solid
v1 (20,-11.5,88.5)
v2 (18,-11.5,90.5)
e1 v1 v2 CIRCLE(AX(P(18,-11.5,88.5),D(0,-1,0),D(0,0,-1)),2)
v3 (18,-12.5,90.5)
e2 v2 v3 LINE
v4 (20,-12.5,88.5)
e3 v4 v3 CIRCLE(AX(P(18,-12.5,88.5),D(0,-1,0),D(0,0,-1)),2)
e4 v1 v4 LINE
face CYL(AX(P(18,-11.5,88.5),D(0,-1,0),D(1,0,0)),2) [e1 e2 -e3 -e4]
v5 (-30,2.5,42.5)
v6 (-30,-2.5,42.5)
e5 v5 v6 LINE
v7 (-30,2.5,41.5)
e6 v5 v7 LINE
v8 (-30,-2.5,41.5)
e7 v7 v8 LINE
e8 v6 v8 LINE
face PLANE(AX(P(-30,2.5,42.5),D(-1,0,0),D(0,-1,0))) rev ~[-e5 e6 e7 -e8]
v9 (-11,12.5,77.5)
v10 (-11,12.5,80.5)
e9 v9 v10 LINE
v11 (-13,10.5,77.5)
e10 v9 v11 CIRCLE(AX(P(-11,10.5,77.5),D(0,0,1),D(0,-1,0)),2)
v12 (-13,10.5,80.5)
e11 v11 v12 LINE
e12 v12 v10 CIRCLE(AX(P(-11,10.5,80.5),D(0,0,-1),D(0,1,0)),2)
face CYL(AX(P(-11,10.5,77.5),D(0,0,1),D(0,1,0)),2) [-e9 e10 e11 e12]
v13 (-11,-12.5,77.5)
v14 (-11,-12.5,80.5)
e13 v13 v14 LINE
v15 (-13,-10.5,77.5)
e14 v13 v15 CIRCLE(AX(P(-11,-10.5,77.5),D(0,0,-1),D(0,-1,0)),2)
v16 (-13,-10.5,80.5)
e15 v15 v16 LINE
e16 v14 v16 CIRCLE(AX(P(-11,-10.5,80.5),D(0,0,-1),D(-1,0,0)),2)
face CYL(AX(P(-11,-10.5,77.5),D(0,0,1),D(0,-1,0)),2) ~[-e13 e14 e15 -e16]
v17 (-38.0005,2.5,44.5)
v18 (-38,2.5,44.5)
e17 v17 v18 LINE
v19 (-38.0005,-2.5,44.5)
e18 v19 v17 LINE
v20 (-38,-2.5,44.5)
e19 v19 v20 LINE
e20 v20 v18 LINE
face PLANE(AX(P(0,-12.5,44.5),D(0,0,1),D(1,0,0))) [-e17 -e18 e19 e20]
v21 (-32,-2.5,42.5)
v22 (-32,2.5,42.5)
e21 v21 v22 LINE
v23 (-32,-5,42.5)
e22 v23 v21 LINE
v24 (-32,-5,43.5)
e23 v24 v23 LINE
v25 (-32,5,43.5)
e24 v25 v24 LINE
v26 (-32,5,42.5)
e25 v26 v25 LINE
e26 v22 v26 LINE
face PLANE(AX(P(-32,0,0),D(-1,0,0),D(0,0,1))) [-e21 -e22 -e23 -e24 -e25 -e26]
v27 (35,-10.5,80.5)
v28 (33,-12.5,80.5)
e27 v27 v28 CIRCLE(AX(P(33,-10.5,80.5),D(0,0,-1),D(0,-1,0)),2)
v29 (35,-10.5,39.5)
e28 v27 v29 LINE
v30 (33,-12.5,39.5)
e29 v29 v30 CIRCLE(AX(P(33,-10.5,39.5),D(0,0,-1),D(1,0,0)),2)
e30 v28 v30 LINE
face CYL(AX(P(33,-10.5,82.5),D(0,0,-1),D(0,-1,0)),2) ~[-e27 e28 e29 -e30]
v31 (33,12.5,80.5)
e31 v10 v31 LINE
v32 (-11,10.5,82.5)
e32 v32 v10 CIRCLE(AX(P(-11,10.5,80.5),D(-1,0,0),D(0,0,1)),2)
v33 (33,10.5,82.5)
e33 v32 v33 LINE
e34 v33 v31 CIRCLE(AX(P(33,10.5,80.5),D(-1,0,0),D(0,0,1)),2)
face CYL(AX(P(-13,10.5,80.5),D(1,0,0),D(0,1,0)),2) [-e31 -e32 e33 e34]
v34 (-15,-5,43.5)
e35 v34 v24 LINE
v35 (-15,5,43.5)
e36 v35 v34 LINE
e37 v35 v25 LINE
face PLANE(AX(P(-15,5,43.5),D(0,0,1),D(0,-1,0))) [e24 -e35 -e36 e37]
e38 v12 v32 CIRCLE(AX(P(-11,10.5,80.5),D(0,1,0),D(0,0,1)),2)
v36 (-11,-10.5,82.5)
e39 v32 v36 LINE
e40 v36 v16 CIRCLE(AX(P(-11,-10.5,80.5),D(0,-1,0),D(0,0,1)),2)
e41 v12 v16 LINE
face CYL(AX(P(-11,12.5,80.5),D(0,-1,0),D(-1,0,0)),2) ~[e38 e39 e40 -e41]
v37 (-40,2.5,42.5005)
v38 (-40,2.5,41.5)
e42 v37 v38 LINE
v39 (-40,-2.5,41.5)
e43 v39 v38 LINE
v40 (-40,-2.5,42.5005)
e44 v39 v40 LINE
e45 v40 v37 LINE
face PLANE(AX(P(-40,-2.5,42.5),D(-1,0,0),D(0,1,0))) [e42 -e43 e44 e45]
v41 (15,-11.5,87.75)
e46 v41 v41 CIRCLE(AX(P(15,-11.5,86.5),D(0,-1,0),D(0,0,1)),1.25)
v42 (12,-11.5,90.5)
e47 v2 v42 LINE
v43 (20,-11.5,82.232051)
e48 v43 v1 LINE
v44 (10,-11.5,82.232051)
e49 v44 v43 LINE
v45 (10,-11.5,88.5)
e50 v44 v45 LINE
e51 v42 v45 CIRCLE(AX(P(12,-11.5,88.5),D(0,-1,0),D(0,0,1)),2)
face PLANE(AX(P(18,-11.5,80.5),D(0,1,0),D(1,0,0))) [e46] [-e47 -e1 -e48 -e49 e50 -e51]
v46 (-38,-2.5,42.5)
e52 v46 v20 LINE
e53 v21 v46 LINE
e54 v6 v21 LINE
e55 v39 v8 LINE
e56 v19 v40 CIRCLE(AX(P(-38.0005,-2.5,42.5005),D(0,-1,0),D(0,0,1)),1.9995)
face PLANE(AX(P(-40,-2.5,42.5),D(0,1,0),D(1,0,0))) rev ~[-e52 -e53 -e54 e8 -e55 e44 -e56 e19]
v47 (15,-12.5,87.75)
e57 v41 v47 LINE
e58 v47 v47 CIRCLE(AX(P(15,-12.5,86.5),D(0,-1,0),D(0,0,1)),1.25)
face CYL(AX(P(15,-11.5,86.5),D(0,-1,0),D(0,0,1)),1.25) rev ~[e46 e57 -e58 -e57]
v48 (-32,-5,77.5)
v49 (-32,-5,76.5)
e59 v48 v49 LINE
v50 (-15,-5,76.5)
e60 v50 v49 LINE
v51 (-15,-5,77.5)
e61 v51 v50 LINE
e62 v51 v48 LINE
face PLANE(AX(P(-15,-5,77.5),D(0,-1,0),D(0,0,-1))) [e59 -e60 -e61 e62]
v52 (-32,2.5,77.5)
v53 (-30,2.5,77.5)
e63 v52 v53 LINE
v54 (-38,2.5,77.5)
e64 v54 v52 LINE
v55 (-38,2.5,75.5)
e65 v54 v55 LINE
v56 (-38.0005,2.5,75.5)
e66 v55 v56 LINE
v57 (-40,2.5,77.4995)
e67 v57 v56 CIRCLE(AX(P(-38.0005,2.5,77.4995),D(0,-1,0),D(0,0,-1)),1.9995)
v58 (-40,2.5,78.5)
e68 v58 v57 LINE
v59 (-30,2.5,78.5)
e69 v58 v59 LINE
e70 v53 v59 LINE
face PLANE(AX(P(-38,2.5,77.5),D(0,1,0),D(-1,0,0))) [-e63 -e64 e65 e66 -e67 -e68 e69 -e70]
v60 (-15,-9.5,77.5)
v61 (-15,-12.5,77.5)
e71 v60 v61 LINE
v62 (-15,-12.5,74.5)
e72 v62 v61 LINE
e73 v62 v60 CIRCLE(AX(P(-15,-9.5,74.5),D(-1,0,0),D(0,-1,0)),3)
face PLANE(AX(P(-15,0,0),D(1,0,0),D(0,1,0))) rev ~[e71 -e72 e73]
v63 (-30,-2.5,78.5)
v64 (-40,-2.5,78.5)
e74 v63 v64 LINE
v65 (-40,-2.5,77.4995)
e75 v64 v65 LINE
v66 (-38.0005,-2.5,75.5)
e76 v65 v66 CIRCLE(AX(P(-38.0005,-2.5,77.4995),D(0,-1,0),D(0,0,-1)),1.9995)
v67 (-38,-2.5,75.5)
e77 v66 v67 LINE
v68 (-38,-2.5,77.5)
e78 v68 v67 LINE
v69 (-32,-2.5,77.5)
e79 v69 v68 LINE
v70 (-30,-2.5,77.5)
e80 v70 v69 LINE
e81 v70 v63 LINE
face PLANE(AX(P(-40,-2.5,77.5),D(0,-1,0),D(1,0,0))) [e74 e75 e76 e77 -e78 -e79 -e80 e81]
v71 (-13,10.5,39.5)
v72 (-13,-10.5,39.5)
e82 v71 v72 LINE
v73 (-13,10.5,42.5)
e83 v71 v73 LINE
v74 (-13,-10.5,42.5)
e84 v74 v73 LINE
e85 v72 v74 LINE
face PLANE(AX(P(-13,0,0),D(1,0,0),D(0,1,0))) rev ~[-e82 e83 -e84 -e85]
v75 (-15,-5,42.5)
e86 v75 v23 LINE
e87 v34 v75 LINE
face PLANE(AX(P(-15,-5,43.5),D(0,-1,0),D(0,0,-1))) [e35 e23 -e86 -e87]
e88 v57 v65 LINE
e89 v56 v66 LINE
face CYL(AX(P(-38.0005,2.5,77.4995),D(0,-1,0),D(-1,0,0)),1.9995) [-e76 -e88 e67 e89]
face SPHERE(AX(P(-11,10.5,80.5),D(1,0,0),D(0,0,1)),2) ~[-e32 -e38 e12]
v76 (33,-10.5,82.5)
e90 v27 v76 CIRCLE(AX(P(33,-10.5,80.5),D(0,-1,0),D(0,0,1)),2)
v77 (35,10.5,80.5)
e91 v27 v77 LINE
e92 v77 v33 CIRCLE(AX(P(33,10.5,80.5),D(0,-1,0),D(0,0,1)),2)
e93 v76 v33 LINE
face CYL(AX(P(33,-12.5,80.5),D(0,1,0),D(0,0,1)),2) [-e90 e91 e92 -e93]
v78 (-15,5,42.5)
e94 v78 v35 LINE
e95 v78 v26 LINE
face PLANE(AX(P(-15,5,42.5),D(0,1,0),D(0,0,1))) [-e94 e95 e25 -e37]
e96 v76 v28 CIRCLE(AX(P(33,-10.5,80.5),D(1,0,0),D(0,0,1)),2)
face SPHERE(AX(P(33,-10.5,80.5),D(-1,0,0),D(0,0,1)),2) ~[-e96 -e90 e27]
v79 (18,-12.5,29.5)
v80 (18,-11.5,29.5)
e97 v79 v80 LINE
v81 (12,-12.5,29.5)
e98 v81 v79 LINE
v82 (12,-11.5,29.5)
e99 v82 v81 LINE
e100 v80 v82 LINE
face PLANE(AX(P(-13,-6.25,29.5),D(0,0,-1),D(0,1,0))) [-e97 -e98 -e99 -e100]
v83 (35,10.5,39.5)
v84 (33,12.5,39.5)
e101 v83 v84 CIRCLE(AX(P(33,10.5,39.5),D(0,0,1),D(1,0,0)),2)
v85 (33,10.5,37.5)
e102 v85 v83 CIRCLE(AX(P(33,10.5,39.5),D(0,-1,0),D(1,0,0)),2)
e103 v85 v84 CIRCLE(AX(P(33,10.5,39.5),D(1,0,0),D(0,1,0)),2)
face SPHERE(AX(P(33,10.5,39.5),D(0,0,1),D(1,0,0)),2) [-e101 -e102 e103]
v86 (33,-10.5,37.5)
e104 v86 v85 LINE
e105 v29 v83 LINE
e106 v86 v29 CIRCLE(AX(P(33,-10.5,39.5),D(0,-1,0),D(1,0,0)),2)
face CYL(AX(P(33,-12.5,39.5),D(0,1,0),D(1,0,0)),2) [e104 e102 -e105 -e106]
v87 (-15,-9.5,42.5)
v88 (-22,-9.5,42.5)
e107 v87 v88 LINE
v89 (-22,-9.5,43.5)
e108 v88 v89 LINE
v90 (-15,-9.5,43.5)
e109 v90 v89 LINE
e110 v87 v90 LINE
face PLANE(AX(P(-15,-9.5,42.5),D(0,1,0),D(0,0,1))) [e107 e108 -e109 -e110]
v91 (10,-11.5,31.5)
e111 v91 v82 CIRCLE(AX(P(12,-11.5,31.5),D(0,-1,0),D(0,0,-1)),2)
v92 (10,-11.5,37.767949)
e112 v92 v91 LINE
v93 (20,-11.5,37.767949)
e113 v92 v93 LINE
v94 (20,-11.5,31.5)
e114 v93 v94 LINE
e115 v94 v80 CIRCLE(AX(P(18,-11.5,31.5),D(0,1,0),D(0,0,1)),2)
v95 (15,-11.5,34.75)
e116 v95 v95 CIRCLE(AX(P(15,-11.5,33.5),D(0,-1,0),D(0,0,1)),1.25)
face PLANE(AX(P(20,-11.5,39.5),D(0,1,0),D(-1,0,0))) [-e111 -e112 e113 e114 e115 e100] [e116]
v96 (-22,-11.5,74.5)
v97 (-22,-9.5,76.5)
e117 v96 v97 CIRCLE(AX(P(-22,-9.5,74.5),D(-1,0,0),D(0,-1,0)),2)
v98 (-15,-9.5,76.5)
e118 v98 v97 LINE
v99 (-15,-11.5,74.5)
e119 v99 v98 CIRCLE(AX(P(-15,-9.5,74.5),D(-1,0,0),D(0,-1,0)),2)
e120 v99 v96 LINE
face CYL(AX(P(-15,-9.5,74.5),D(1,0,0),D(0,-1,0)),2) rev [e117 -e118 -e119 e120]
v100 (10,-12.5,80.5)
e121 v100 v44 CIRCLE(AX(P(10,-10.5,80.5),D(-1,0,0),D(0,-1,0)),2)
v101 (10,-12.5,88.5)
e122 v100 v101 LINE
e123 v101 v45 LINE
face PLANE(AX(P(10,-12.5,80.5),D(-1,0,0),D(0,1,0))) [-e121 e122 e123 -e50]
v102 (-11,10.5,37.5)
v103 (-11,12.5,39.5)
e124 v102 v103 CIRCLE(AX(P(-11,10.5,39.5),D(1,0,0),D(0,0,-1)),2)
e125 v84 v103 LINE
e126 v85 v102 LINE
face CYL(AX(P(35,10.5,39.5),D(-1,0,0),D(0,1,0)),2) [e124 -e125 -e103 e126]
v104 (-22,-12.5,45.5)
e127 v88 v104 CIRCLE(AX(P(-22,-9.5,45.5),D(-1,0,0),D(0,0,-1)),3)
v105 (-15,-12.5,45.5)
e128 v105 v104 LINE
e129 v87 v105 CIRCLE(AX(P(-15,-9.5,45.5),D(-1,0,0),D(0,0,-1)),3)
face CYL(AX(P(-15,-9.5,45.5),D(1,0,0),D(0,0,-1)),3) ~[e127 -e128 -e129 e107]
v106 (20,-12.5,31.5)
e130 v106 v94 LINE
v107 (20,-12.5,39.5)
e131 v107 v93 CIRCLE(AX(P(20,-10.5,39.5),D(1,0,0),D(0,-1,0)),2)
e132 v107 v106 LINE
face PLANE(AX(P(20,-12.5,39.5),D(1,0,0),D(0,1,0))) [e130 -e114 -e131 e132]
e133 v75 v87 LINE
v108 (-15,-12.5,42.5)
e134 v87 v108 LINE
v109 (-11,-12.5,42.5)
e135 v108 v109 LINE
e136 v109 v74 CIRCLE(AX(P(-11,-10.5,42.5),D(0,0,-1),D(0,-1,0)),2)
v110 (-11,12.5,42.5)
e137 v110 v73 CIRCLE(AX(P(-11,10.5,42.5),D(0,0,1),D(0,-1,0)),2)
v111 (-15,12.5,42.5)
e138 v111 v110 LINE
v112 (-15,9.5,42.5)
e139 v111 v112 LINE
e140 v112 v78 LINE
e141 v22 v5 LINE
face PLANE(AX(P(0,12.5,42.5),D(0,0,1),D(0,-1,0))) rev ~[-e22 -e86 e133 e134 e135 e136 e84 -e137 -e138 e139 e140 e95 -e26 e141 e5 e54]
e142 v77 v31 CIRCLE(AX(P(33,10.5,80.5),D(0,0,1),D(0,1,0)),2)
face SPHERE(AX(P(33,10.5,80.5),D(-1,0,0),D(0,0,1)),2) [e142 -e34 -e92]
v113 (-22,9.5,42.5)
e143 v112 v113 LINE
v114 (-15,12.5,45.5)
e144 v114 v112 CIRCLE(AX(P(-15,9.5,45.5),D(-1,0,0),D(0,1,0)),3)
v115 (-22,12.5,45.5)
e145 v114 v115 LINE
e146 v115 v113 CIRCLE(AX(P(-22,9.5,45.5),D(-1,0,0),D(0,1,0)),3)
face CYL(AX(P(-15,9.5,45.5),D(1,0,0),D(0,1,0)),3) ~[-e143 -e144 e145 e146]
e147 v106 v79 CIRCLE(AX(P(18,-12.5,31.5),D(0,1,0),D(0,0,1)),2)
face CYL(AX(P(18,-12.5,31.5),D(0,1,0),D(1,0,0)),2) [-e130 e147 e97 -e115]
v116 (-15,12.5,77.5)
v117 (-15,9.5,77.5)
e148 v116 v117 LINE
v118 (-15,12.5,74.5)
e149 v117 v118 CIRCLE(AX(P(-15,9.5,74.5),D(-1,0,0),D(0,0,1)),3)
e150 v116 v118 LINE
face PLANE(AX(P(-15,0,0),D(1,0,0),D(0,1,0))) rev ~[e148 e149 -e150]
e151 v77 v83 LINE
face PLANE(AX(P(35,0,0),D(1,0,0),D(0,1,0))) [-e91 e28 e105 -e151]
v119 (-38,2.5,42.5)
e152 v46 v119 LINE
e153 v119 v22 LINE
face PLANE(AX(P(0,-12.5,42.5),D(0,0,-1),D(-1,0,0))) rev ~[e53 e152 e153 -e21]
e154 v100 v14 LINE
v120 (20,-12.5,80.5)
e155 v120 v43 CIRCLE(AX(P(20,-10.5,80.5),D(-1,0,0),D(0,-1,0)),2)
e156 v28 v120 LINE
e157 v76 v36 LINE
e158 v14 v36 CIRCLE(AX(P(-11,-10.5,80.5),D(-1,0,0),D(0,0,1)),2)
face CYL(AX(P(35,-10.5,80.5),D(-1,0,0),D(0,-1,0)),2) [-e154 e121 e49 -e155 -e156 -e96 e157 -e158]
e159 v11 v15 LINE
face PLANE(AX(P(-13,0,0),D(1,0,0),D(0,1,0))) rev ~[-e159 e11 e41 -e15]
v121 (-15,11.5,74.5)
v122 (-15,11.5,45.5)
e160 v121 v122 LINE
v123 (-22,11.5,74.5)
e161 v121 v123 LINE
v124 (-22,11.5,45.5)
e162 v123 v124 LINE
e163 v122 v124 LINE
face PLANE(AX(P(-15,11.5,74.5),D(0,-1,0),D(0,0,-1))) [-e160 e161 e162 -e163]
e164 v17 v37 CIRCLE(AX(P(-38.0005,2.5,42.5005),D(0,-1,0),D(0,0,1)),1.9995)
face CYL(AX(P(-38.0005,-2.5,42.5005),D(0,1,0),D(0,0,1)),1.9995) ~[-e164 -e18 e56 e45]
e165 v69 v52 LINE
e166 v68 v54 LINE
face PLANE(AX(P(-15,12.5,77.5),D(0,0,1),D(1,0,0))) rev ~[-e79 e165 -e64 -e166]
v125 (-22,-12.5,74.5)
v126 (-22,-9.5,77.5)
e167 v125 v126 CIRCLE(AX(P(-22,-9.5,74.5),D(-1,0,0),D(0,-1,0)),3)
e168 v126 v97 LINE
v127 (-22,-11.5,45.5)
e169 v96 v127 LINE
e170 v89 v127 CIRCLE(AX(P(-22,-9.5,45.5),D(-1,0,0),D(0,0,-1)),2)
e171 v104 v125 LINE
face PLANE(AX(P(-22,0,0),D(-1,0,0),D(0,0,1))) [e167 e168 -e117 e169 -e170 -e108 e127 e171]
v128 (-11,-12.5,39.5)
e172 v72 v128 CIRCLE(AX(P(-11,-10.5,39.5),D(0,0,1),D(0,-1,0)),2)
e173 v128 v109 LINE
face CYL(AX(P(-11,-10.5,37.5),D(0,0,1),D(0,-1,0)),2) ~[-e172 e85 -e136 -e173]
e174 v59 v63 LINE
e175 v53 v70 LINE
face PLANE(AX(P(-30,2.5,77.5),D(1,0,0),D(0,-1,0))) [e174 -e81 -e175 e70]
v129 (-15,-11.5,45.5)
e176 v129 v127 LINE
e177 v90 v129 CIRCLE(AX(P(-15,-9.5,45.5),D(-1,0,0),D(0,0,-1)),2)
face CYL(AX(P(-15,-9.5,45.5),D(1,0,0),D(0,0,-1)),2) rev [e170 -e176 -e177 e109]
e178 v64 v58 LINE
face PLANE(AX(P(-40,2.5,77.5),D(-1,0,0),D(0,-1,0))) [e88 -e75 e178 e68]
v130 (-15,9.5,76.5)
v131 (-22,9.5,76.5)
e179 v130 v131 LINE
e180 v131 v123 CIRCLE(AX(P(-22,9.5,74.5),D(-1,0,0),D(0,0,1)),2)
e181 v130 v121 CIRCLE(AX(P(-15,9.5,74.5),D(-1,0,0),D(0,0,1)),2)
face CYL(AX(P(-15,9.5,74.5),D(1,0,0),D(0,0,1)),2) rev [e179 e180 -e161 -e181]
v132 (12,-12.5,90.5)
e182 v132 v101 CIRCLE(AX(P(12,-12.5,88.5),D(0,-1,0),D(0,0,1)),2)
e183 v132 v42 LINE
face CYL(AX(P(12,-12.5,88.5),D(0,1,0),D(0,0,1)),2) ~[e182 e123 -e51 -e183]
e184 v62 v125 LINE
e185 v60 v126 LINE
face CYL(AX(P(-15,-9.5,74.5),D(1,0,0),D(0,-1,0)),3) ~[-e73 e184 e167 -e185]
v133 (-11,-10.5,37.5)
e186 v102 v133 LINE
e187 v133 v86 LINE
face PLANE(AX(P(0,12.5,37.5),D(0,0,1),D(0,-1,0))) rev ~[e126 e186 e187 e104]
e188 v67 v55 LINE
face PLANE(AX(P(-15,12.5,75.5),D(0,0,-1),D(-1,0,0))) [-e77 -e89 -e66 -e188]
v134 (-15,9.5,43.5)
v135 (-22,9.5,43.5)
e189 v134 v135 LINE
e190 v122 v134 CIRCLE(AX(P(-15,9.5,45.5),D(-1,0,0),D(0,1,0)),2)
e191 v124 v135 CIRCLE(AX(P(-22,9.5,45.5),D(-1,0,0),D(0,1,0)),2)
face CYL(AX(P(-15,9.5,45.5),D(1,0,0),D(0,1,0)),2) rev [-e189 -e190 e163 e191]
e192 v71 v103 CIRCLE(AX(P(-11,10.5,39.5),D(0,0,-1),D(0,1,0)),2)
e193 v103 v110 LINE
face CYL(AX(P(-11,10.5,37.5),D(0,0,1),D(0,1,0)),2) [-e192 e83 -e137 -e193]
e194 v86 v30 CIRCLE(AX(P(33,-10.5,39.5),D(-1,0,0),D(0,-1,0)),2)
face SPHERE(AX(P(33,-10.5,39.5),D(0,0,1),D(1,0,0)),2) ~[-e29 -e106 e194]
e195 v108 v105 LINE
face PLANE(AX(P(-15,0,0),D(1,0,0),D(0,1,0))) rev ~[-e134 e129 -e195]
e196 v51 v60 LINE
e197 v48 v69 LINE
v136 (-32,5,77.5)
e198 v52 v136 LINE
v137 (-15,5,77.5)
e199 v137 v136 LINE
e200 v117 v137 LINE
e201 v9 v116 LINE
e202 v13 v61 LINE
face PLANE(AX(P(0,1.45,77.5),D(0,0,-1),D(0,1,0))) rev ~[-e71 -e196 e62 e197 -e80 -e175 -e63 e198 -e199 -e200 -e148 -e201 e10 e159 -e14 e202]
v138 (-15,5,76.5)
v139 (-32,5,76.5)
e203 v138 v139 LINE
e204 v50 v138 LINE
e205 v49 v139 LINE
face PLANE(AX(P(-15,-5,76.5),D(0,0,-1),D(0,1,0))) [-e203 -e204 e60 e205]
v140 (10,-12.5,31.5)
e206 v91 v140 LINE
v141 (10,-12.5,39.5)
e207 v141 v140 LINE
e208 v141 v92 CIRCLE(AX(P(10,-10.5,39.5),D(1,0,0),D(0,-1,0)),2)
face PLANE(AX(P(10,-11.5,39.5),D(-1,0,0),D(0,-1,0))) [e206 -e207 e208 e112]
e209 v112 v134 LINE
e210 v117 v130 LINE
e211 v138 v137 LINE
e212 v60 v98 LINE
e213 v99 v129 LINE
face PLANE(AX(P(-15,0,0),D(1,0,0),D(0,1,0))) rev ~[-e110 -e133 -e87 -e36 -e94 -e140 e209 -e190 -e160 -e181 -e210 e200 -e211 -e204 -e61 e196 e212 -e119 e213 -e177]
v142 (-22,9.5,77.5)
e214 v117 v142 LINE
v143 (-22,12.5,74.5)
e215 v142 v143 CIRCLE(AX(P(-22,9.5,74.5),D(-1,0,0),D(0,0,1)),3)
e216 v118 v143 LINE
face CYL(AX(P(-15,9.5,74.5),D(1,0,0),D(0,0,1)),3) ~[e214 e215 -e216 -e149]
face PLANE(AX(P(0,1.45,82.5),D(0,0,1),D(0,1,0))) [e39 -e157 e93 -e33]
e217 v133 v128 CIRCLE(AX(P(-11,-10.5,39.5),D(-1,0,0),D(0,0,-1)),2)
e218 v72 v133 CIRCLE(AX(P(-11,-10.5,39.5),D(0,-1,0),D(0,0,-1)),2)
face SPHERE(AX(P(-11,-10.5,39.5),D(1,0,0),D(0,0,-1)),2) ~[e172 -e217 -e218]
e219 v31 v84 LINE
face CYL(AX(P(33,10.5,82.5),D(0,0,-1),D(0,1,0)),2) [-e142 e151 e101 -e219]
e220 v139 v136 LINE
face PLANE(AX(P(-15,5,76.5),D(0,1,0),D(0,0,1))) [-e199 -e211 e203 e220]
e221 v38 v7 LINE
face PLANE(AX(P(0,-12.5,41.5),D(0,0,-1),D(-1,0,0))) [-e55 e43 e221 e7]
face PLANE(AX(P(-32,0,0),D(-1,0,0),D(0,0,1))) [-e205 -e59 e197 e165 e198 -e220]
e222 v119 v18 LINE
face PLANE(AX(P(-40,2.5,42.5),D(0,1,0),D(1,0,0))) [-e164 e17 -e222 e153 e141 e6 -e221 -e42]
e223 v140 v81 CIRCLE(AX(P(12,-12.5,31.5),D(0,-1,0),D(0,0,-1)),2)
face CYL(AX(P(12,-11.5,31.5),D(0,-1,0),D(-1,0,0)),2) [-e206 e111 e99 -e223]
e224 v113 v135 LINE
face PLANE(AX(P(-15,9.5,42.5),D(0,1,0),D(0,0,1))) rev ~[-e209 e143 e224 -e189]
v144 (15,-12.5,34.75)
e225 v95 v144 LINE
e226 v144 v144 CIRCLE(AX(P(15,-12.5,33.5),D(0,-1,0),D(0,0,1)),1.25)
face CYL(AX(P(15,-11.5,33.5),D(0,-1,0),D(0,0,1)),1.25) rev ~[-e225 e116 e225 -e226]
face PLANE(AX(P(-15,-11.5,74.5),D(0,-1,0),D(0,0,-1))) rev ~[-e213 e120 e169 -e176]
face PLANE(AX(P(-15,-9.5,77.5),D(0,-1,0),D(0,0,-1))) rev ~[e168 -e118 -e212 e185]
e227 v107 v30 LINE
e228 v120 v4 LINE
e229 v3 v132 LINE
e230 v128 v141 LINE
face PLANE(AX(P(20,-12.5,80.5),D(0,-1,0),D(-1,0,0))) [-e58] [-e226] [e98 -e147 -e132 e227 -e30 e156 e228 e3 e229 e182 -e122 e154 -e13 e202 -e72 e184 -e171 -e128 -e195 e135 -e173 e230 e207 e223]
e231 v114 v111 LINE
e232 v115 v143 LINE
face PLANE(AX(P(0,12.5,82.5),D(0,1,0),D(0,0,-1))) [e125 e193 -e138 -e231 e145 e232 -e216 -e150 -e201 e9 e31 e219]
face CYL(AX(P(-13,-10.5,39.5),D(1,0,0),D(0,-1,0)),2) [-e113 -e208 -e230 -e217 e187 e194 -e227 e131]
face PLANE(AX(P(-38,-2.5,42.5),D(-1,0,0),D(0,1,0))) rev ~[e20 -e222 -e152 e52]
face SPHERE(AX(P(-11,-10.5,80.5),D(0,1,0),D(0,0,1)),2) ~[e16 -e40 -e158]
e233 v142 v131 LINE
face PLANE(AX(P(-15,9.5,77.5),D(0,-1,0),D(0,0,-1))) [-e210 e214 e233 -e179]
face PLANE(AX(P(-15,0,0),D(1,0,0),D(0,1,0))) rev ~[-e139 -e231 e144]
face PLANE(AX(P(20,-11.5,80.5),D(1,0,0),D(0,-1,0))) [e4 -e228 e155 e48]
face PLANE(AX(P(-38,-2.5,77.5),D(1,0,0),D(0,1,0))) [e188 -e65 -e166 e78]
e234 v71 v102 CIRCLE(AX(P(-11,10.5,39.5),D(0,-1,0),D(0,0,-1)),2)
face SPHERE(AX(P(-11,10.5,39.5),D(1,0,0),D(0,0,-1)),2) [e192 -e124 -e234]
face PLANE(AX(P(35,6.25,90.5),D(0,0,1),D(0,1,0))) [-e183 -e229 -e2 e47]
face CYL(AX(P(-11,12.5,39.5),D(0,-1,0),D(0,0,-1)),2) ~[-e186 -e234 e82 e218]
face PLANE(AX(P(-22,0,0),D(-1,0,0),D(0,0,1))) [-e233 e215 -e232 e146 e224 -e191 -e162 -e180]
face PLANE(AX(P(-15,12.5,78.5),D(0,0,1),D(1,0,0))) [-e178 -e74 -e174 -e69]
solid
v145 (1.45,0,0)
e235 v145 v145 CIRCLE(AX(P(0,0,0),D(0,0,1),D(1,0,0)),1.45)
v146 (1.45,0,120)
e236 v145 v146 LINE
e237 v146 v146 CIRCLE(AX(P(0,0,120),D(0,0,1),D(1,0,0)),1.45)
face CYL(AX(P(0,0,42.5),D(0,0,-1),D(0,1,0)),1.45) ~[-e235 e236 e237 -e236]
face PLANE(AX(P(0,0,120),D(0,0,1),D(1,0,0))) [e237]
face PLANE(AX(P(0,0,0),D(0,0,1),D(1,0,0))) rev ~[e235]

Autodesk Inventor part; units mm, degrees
ref_plane "YZ Plane" through (0, 0, 0) normal (1, 0, 0) x (0, 1, 0)
sketch "Sketch1" plane through (0, 0, 0) normal (0, 0, 1) x (1, 0, 0)
  circle A0 centre (0, 0) radius 1.45
  dimension "d0" = 2.9
extrude "Extrusion1" add sketch "Sketch1" along normal blind 120
sketch "Sketch2" plane through (0, 0, 0) normal (1, 0, 0) x (0, 1, 0)
  line L0 (1.45, 120) -> (-1.45, 120) projected
  line L1 (-1.45, 0) -> (1.45, 0) projected
  line L2 (1.45, 0) -> (1.45, 120) projected
  line L3 (-1.45, 0) -> (-1.45, 120) projected
  line L4 (1.45, 0) -> (-1.45, 120) construction
  line L5 (1.45, 120) -> (-1.45, 0) construction
  line L6 (12.5, 37.5) -> (-12.5, 37.5)
  line L7 (-12.5, 37.5) -> (-12.5, 82.5)
  line L8 (-12.5, 82.5) -> (12.5, 82.5)
  line L9 (12.5, 82.5) -> (12.5, 37.5)
  line L10 (12.5, 37.5) -> (-12.5, 82.5) construction
  line L11 (-12.5, 37.5) -> (12.5, 82.5) construction
  line L12 (12.5, 42.5) -> (-12.5, 42.5)
  line L13 (-12.5, 42.5) -> (-12.5, 77.5)
  line L14 (-12.5, 77.5) -> (12.5, 77.5)
  line L15 (12.5, 77.5) -> (12.5, 42.5)
  line L16 (12.5, 42.5) -> (-12.5, 77.5) construction
  line L17 (-12.5, 42.5) -> (12.5, 77.5) construction
  point P0 (0, 60)
  dimension "d3" = 25
  dimension "d4" = 45
  dimension "d7" = 25
  dimension "d8" = 35
extrude "Extrusion2" add sketch "Sketch2" along normal blind 35 separate body contours L8 L9 L14 L2 | L2 L14 L3 L8 | L3 L14 L7 L8 | L14 L9 L12 L2 | L2 L12 L3 L14 | L3 L12 L7 L14 | L12 L9 L6 L2 | L2 L6 L3 L12 | L3 L6 L7 L12
extrude "Extrusion3" add sketch "Sketch2" against normal blind 15 contours L14 L9 L12 L2 | L2 L12 L3 L14 | L3 L12 L7 L14 bodies 2
sketch "Sketch3" plane through (-15, 0, 0) normal (-1, 0, 0) x (0, 0, 1)
  line L0 (42.5, 12.5) -> (42.5, -12.5) construction
  line L1 (37.5, -12.5) -> (82.5, -12.5) construction
  line L2 (42.5, 12.5) -> (77.5, 12.5) construction
  line L3 (77.5, 12.5) -> (77.5, -12.5) construction
  line L4 (77.5, -12.5) -> (42.5, -12.5) construction
  line L5 (42.5, -12.5) -> (42.5, 12.5) construction
  line L6 (77.5, 12.5) -> (77.5, -12.5) construction
  line L7 (42.5, 12.5) -> (77.5, 12.5) construction
  line L8 (77.5, 12.5) -> (77.5, 9.5) construction
  line L9 (77.5, 9.5) -> (42.5, 9.5) construction
  line L10 (42.5, 9.5) -> (42.5, 12.5) construction
  line L11 (77.5, 12.5) -> (77.5, -12.5) construction
  line L12 (42.5, -12.5) -> (77.5, -12.5) construction
  line L13 (77.5, -12.5) -> (77.5, -9.5) construction
  line L14 (77.5, -9.5) -> (42.5, -9.5) construction
  line L15 (42.5, -9.5) -> (42.5, -12.5) construction
  arc A0 (45.5, 12.5) -> (42.5, 9.5) centre (45.5, 9.5) ccw
  arc A1 (77.5, 9.5) -> (74.5, 12.5) centre (74.5, 9.5) ccw
  line L16 (45.5, 12.5) -> (74.5, 12.5)
  line L17 (37.5, 12.5) -> (82.5, 12.5) projected
  arc A2 (42.5, -9.5) -> (45.5, -12.5) centre (45.5, -9.5) ccw
  arc A3 (74.5, -12.5) -> (77.5, -9.5) centre (74.5, -9.5) ccw
  line L18 (45.5, -12.5) -> (74.5, -12.5)
  line L19 (42.5, 9.5) -> (43.5, 9.5)
  line L20 (77.5, 9.5) -> (76.5, 9.5)
  arc A4 (45.5, 11.5) -> (43.5, 9.5) centre (45.5, 9.5) ccw
  arc A5 (76.5, 9.5) -> (74.5, 11.5) centre (74.5, 9.5) ccw
  line L21 (74.5, 11.5) -> (45.5, 11.5)
  line L22 (42.5, -9.5) -> (43.5, -9.5)
  line L23 (77.5, -9.5) -> (76.5, -9.5)
  arc A6 (43.5, -9.5) -> (45.5, -11.5) centre (45.5, -9.5) ccw
  arc A7 (74.5, -11.5) -> (76.5, -9.5) centre (74.5, -9.5) ccw
  line L24 (74.5, -11.5) -> (45.5, -11.5)
  line L25 (42.5, 5) -> (43.5, 5)
  line L26 (43.5, 5) -> (43.5, -5)
  line L27 (43.5, -5) -> (42.5, -5)
  line L28 (42.5, -5) -> (42.5, 5)
  line L29 (42.5, 5) -> (43.5, -5) construction
  line L30 (43.5, 5) -> (42.5, -5) construction
  line L31 (77.5, -12.5) -> (77.5, 12.5) projected
  line L32 (76.5, 5) -> (77.5, 5)
  line L33 (77.5, 5) -> (77.5, -5)
  line L34 (77.5, -5) -> (76.5, -5)
  line L35 (76.5, -5) -> (76.5, 5)
  line L36 (76.5, 5) -> (77.5, -5) construction
  line L37 (77.5, 5) -> (76.5, -5) construction
  line L38 (42.5, 0) -> (77.5, 0) construction
  line L39 (42.5, 9.5) -> (43.5, 9.5) construction
  line L40 (43.5, 9.5) -> (43.5, -9.5) construction
  line L41 (43.5, -9.5) -> (42.5, -9.5) construction
  line L42 (42.5, -9.5) -> (42.5, 9.5) construction
  point P0 (0, 0)
  point P1 (77.5, 1.45)
  point P2 (77.5, -1.45)
  point P3 (43, 0)
  point P4 (77, 0)
  point P5 (43, 0)
  dimension "d11" = 3
  dimension "d12" = 3
  dimension "d13" = 1
  dimension "d14" = 1
  dimension "d15" = 1
  dimension "d16" = 1
  dimension "d17" = 1
  dimension "d18" = 1
  dimension "d21" = 10
  dimension "d22" = 10
  dimension "d23" = 35
  dimension "d24" = 17.5
  dimension "d25" = 32
extrude "Extrusion4" add sketch "Sketch3" along normal blind 7 contours L16 A1 L20 A5 L21 A4 L19 A0 | A3 L18 A2 L22 A6 L24 A7 L23 bodies 2
extrude "Extrusion5" add sketch "Sketch3" along normal blind 17 contours L31 L34 L35 L32 | L25 L26 L27 L28 bodies 2
sketch "Sketch5" plane through (-15, 12.5, 77.5) normal (0, 0, 1) x (1, 0, 0)
  line L0 (-25, -10) -> (-15, -10) construction
  line L1 (-15, -10) -> (-15, -15) construction
  line L2 (-15, -15) -> (-25, -15) construction
  line L3 (-25, -15) -> (-25, -10) construction
  line L4 (-25, -10) -> (-15, -15) construction
  line L5 (-15, -10) -> (-25, -15) construction
  line L6 (0, -17.5) -> (0, -7.5) construction
  line L7 (-25, -10) -> (-15, -10)
  line L8 (-15, -10) -> (-15, -15)
  line L9 (-15, -15) -> (-25, -15)
  line L10 (-25, -15) -> (-25, -10)
  point P0 (15, -12.5)
  point P1 (-20, -12.5)
  dimension "d28" = 10
  dimension "d29" = 5
  dimension "d32" = 15
extrude "Extrusion6" add sketch "Sketch5" along normal blind 1 bodies 2
sketch "Sketch6" plane through (0, -12.5, 42.5) normal (0, 0, -1) x (-1, 0, 0)
  line L0 (40, 15) -> (30, 15) projected
  line L1 (40, 10) -> (40, 15) projected
  line L2 (32, 10) -> (40, 10) projected
  line L3 (30, 15) -> (30, 10) projected
  line L4 (30, 10) -> (32, 10) projected
  point P0 (0, 12.5)
extrude "Extrusion7" add sketch "Sketch6" along normal blind 1 bodies 2
extrude "Extrusion8" add sketch "Sketch2" against normal blind 13 contours L8 L9 L14 L2 | L2 L14 L3 L8 | L3 L14 L7 L8 | L14 L9 L12 L2 | L2 L12 L3 L14 | L3 L12 L7 L14 | L12 L9 L6 L2 | L2 L6 L3 L12 | L3 L6 L7 L12 bodies 2
extrude "Extrusion9" cut sketch "Sketch2" against normal blind 13 contours L14 L9 L12 L2 | L2 L12 L3 L14 | L3 L12 L7 L14 bodies 1
sketch "Sketch11" plane through (0, -1.45, 42.5) normal (0, 0, 1) x (1, 0, 0)
  arc A0 (0, 2.9) -> (0, 0) centre (0, 1.45) ccw projected
  line L0 (0, 2.9) -> (0, 0) projected
extrude "Extrusion12" add sketch "Sketch11" along normal up to surface (35 mm away) bodies 1
sketch "Sketch9" plane through (0, -12.5, 42.5) normal (0, 0, 1) x (1, 0, 0)
  line L0 (-40, 10) -> (-40, 15) projected
  line L1 (-40, 15) -> (-30, 15) projected
  line L2 (-40, 10) -> (-38, 10)
  line L3 (-38, 10) -> (-38, 15)
  line L4 (-38, 15) -> (-40, 15)
  line L5 (-40, 15) -> (-40, 10)
  point P0 (0, 12.5)
  dimension "d43" = 2
extrude "Extrusion10" add sketch "Sketch9" along normal blind 2 bodies 2
sketch "Sketch10" plane through (-15, 12.5, 77.5) normal (0, 0, -1) x (-1, 0, 0)
  line L0 (25, -15) -> (23, -15) projected
  line L1 (23, -15) -> (23, -10) projected
  line L2 (23, -10) -> (25, -10) projected
  line L3 (25, -10) -> (25, -15) projected
  point P0 (-15, -12.5)
extrude "Extrusion11" add sketch "Sketch10" along normal blind 2 bodies 2
fillet "Fillet1" radius 2 2 edges at (-40, 0, 75.5) (-40, 0, 44.5)
fillet "Fillet5" radius 2 14 edges at (11, 12.5, 82.5) (-13, 0, 82.5) (11, -12.5, 82.5) (35, 0, 82.5) (35, 12.5, 60) (35, -12.5, 60) (35, 0, 37.5) (11, 12.5, 37.5) (11, -12.5, 37.5) (-13, 0, 37.5) (-13, 12.5, 40) (-13, -12.5, 40) (-13, -12.5, 80) (-13, 12.5, 80)
ref_plane "Work Plane1" through (-13, -6.25, 39.5) normal (0, 0, -1) x (0, 1, 0)
sketch "Sketch14" plane through (-13, -6.25, 39.5) normal (0, 0, -1) x (0, 1, 0)
  line L0 (-6.25, 2) -> (-6.25, 46) projected
  line L1 (-6.25, 33) -> (-5.25, 33)
  line L2 (-5.25, 33) -> (-5.25, 23)
  line L3 (-5.25, 23) -> (-6.25, 23)
  line L4 (-6.25, 23) -> (-6.25, 33)
  line L5 (-4.25, 48) -> (16.75, 48) projected
  point P0 (6.25, 13)
  dimension "d63" = 1
  dimension "d64" = 10
  dimension "d68" = 15
extrude "Extrusion14" add sketch "Sketch14" along normal blind 10 bodies 2
fillet "Fillet7" radius 2 2 edges at (20, -12, 29.5) (10, -12, 29.5)
ref_plane "Work Plane2" through (35, 6.25, 80.5) normal (0, 0, 1) x (0, 1, 0)
sketch "Sketch15" plane through (35, 6.25, 80.5) normal (0, 0, 1) x (0, 1, 0)
  line L0 (-17.75, 15) -> (-18.75, 15) projected
  line L1 (-18.75, 17) -> (-18.75, 23) projected
  line L2 (-18.75, 15) -> (-18.75, 17) projected
  line L3 (-17.75, 17) -> (-17.75, 15) projected
  line L4 (-17.75, 23) -> (-17.75, 17) projected
  line L5 (-17.75, 25) -> (-17.75, 23) projected
  line L6 (-18.75, 25) -> (-17.75, 25) projected
  line L7 (-18.75, 23) -> (-18.75, 25) projected
  line L8 (-18.75, 46) -> (-18.75, 2) projected
  point P0 (-6.25, 35)
extrude "Extrusion15" add sketch "Sketch15" along normal blind 10 bodies 2
fillet "Fillet8" radius 2 2 edges at (20, -12, 90.5) (10, -12, 90.5)
sketch "Sketch16" plane through (10, -11.5, 37.7679) normal (0, 1, 0) x (1, 0, 0)
  line L0 (0, 0) -> (0, 6.2679) projected
  line L1 (10, 0) -> (10, 6.2679) projected
  line L2 (23, 0.2679) -> (-21, 0.2679) projected
  line L3 (2, 8.2679) -> (8, 8.2679) projected
  point P0 (-10, 37.7679)
  point P1 (5, 4.2679)
  dimension "d72" = 10
  dimension "d73" = 5
  dimension "d74" = 8
  dimension "d75" = 4
hole "Hole1" at (15, -11.5, 33.5) direction (0, -1, 0) diameter 2.5 end through all bodies 2
sketch "Sketch17" plane through (10, -11.5, 82.2321) normal (0, 1, 0) x (1, 0, 0)
  line L0 (10, 0) -> (10, -6.2679) projected
  line L1 (0, 0) -> (0, -6.2679) projected
  line L2 (-21, -0.2679) -> (23, -0.2679) projected
  line L3 (8, -8.2679) -> (2, -8.2679) projected
  point P0 (-10, 82.2321)
  point P1 (5, -4.2679)
  dimension "d83" = 10
  dimension "d84" = 5
  dimension "d85" = 8
  dimension "d86" = 4
hole "Hole2" at (15, -11.5, 86.5) direction (0, -1, 0) diameter 2.5 end through all bodies 2
equation "\"d73\" = 0.5 * d72"
equation "\"d75\" = 0.5 * d74"
equation "\"d84\" = 0.5 * d83"
equation "\"d86\" = 0.5 * d85"
properties material "Iron, Malleable"
